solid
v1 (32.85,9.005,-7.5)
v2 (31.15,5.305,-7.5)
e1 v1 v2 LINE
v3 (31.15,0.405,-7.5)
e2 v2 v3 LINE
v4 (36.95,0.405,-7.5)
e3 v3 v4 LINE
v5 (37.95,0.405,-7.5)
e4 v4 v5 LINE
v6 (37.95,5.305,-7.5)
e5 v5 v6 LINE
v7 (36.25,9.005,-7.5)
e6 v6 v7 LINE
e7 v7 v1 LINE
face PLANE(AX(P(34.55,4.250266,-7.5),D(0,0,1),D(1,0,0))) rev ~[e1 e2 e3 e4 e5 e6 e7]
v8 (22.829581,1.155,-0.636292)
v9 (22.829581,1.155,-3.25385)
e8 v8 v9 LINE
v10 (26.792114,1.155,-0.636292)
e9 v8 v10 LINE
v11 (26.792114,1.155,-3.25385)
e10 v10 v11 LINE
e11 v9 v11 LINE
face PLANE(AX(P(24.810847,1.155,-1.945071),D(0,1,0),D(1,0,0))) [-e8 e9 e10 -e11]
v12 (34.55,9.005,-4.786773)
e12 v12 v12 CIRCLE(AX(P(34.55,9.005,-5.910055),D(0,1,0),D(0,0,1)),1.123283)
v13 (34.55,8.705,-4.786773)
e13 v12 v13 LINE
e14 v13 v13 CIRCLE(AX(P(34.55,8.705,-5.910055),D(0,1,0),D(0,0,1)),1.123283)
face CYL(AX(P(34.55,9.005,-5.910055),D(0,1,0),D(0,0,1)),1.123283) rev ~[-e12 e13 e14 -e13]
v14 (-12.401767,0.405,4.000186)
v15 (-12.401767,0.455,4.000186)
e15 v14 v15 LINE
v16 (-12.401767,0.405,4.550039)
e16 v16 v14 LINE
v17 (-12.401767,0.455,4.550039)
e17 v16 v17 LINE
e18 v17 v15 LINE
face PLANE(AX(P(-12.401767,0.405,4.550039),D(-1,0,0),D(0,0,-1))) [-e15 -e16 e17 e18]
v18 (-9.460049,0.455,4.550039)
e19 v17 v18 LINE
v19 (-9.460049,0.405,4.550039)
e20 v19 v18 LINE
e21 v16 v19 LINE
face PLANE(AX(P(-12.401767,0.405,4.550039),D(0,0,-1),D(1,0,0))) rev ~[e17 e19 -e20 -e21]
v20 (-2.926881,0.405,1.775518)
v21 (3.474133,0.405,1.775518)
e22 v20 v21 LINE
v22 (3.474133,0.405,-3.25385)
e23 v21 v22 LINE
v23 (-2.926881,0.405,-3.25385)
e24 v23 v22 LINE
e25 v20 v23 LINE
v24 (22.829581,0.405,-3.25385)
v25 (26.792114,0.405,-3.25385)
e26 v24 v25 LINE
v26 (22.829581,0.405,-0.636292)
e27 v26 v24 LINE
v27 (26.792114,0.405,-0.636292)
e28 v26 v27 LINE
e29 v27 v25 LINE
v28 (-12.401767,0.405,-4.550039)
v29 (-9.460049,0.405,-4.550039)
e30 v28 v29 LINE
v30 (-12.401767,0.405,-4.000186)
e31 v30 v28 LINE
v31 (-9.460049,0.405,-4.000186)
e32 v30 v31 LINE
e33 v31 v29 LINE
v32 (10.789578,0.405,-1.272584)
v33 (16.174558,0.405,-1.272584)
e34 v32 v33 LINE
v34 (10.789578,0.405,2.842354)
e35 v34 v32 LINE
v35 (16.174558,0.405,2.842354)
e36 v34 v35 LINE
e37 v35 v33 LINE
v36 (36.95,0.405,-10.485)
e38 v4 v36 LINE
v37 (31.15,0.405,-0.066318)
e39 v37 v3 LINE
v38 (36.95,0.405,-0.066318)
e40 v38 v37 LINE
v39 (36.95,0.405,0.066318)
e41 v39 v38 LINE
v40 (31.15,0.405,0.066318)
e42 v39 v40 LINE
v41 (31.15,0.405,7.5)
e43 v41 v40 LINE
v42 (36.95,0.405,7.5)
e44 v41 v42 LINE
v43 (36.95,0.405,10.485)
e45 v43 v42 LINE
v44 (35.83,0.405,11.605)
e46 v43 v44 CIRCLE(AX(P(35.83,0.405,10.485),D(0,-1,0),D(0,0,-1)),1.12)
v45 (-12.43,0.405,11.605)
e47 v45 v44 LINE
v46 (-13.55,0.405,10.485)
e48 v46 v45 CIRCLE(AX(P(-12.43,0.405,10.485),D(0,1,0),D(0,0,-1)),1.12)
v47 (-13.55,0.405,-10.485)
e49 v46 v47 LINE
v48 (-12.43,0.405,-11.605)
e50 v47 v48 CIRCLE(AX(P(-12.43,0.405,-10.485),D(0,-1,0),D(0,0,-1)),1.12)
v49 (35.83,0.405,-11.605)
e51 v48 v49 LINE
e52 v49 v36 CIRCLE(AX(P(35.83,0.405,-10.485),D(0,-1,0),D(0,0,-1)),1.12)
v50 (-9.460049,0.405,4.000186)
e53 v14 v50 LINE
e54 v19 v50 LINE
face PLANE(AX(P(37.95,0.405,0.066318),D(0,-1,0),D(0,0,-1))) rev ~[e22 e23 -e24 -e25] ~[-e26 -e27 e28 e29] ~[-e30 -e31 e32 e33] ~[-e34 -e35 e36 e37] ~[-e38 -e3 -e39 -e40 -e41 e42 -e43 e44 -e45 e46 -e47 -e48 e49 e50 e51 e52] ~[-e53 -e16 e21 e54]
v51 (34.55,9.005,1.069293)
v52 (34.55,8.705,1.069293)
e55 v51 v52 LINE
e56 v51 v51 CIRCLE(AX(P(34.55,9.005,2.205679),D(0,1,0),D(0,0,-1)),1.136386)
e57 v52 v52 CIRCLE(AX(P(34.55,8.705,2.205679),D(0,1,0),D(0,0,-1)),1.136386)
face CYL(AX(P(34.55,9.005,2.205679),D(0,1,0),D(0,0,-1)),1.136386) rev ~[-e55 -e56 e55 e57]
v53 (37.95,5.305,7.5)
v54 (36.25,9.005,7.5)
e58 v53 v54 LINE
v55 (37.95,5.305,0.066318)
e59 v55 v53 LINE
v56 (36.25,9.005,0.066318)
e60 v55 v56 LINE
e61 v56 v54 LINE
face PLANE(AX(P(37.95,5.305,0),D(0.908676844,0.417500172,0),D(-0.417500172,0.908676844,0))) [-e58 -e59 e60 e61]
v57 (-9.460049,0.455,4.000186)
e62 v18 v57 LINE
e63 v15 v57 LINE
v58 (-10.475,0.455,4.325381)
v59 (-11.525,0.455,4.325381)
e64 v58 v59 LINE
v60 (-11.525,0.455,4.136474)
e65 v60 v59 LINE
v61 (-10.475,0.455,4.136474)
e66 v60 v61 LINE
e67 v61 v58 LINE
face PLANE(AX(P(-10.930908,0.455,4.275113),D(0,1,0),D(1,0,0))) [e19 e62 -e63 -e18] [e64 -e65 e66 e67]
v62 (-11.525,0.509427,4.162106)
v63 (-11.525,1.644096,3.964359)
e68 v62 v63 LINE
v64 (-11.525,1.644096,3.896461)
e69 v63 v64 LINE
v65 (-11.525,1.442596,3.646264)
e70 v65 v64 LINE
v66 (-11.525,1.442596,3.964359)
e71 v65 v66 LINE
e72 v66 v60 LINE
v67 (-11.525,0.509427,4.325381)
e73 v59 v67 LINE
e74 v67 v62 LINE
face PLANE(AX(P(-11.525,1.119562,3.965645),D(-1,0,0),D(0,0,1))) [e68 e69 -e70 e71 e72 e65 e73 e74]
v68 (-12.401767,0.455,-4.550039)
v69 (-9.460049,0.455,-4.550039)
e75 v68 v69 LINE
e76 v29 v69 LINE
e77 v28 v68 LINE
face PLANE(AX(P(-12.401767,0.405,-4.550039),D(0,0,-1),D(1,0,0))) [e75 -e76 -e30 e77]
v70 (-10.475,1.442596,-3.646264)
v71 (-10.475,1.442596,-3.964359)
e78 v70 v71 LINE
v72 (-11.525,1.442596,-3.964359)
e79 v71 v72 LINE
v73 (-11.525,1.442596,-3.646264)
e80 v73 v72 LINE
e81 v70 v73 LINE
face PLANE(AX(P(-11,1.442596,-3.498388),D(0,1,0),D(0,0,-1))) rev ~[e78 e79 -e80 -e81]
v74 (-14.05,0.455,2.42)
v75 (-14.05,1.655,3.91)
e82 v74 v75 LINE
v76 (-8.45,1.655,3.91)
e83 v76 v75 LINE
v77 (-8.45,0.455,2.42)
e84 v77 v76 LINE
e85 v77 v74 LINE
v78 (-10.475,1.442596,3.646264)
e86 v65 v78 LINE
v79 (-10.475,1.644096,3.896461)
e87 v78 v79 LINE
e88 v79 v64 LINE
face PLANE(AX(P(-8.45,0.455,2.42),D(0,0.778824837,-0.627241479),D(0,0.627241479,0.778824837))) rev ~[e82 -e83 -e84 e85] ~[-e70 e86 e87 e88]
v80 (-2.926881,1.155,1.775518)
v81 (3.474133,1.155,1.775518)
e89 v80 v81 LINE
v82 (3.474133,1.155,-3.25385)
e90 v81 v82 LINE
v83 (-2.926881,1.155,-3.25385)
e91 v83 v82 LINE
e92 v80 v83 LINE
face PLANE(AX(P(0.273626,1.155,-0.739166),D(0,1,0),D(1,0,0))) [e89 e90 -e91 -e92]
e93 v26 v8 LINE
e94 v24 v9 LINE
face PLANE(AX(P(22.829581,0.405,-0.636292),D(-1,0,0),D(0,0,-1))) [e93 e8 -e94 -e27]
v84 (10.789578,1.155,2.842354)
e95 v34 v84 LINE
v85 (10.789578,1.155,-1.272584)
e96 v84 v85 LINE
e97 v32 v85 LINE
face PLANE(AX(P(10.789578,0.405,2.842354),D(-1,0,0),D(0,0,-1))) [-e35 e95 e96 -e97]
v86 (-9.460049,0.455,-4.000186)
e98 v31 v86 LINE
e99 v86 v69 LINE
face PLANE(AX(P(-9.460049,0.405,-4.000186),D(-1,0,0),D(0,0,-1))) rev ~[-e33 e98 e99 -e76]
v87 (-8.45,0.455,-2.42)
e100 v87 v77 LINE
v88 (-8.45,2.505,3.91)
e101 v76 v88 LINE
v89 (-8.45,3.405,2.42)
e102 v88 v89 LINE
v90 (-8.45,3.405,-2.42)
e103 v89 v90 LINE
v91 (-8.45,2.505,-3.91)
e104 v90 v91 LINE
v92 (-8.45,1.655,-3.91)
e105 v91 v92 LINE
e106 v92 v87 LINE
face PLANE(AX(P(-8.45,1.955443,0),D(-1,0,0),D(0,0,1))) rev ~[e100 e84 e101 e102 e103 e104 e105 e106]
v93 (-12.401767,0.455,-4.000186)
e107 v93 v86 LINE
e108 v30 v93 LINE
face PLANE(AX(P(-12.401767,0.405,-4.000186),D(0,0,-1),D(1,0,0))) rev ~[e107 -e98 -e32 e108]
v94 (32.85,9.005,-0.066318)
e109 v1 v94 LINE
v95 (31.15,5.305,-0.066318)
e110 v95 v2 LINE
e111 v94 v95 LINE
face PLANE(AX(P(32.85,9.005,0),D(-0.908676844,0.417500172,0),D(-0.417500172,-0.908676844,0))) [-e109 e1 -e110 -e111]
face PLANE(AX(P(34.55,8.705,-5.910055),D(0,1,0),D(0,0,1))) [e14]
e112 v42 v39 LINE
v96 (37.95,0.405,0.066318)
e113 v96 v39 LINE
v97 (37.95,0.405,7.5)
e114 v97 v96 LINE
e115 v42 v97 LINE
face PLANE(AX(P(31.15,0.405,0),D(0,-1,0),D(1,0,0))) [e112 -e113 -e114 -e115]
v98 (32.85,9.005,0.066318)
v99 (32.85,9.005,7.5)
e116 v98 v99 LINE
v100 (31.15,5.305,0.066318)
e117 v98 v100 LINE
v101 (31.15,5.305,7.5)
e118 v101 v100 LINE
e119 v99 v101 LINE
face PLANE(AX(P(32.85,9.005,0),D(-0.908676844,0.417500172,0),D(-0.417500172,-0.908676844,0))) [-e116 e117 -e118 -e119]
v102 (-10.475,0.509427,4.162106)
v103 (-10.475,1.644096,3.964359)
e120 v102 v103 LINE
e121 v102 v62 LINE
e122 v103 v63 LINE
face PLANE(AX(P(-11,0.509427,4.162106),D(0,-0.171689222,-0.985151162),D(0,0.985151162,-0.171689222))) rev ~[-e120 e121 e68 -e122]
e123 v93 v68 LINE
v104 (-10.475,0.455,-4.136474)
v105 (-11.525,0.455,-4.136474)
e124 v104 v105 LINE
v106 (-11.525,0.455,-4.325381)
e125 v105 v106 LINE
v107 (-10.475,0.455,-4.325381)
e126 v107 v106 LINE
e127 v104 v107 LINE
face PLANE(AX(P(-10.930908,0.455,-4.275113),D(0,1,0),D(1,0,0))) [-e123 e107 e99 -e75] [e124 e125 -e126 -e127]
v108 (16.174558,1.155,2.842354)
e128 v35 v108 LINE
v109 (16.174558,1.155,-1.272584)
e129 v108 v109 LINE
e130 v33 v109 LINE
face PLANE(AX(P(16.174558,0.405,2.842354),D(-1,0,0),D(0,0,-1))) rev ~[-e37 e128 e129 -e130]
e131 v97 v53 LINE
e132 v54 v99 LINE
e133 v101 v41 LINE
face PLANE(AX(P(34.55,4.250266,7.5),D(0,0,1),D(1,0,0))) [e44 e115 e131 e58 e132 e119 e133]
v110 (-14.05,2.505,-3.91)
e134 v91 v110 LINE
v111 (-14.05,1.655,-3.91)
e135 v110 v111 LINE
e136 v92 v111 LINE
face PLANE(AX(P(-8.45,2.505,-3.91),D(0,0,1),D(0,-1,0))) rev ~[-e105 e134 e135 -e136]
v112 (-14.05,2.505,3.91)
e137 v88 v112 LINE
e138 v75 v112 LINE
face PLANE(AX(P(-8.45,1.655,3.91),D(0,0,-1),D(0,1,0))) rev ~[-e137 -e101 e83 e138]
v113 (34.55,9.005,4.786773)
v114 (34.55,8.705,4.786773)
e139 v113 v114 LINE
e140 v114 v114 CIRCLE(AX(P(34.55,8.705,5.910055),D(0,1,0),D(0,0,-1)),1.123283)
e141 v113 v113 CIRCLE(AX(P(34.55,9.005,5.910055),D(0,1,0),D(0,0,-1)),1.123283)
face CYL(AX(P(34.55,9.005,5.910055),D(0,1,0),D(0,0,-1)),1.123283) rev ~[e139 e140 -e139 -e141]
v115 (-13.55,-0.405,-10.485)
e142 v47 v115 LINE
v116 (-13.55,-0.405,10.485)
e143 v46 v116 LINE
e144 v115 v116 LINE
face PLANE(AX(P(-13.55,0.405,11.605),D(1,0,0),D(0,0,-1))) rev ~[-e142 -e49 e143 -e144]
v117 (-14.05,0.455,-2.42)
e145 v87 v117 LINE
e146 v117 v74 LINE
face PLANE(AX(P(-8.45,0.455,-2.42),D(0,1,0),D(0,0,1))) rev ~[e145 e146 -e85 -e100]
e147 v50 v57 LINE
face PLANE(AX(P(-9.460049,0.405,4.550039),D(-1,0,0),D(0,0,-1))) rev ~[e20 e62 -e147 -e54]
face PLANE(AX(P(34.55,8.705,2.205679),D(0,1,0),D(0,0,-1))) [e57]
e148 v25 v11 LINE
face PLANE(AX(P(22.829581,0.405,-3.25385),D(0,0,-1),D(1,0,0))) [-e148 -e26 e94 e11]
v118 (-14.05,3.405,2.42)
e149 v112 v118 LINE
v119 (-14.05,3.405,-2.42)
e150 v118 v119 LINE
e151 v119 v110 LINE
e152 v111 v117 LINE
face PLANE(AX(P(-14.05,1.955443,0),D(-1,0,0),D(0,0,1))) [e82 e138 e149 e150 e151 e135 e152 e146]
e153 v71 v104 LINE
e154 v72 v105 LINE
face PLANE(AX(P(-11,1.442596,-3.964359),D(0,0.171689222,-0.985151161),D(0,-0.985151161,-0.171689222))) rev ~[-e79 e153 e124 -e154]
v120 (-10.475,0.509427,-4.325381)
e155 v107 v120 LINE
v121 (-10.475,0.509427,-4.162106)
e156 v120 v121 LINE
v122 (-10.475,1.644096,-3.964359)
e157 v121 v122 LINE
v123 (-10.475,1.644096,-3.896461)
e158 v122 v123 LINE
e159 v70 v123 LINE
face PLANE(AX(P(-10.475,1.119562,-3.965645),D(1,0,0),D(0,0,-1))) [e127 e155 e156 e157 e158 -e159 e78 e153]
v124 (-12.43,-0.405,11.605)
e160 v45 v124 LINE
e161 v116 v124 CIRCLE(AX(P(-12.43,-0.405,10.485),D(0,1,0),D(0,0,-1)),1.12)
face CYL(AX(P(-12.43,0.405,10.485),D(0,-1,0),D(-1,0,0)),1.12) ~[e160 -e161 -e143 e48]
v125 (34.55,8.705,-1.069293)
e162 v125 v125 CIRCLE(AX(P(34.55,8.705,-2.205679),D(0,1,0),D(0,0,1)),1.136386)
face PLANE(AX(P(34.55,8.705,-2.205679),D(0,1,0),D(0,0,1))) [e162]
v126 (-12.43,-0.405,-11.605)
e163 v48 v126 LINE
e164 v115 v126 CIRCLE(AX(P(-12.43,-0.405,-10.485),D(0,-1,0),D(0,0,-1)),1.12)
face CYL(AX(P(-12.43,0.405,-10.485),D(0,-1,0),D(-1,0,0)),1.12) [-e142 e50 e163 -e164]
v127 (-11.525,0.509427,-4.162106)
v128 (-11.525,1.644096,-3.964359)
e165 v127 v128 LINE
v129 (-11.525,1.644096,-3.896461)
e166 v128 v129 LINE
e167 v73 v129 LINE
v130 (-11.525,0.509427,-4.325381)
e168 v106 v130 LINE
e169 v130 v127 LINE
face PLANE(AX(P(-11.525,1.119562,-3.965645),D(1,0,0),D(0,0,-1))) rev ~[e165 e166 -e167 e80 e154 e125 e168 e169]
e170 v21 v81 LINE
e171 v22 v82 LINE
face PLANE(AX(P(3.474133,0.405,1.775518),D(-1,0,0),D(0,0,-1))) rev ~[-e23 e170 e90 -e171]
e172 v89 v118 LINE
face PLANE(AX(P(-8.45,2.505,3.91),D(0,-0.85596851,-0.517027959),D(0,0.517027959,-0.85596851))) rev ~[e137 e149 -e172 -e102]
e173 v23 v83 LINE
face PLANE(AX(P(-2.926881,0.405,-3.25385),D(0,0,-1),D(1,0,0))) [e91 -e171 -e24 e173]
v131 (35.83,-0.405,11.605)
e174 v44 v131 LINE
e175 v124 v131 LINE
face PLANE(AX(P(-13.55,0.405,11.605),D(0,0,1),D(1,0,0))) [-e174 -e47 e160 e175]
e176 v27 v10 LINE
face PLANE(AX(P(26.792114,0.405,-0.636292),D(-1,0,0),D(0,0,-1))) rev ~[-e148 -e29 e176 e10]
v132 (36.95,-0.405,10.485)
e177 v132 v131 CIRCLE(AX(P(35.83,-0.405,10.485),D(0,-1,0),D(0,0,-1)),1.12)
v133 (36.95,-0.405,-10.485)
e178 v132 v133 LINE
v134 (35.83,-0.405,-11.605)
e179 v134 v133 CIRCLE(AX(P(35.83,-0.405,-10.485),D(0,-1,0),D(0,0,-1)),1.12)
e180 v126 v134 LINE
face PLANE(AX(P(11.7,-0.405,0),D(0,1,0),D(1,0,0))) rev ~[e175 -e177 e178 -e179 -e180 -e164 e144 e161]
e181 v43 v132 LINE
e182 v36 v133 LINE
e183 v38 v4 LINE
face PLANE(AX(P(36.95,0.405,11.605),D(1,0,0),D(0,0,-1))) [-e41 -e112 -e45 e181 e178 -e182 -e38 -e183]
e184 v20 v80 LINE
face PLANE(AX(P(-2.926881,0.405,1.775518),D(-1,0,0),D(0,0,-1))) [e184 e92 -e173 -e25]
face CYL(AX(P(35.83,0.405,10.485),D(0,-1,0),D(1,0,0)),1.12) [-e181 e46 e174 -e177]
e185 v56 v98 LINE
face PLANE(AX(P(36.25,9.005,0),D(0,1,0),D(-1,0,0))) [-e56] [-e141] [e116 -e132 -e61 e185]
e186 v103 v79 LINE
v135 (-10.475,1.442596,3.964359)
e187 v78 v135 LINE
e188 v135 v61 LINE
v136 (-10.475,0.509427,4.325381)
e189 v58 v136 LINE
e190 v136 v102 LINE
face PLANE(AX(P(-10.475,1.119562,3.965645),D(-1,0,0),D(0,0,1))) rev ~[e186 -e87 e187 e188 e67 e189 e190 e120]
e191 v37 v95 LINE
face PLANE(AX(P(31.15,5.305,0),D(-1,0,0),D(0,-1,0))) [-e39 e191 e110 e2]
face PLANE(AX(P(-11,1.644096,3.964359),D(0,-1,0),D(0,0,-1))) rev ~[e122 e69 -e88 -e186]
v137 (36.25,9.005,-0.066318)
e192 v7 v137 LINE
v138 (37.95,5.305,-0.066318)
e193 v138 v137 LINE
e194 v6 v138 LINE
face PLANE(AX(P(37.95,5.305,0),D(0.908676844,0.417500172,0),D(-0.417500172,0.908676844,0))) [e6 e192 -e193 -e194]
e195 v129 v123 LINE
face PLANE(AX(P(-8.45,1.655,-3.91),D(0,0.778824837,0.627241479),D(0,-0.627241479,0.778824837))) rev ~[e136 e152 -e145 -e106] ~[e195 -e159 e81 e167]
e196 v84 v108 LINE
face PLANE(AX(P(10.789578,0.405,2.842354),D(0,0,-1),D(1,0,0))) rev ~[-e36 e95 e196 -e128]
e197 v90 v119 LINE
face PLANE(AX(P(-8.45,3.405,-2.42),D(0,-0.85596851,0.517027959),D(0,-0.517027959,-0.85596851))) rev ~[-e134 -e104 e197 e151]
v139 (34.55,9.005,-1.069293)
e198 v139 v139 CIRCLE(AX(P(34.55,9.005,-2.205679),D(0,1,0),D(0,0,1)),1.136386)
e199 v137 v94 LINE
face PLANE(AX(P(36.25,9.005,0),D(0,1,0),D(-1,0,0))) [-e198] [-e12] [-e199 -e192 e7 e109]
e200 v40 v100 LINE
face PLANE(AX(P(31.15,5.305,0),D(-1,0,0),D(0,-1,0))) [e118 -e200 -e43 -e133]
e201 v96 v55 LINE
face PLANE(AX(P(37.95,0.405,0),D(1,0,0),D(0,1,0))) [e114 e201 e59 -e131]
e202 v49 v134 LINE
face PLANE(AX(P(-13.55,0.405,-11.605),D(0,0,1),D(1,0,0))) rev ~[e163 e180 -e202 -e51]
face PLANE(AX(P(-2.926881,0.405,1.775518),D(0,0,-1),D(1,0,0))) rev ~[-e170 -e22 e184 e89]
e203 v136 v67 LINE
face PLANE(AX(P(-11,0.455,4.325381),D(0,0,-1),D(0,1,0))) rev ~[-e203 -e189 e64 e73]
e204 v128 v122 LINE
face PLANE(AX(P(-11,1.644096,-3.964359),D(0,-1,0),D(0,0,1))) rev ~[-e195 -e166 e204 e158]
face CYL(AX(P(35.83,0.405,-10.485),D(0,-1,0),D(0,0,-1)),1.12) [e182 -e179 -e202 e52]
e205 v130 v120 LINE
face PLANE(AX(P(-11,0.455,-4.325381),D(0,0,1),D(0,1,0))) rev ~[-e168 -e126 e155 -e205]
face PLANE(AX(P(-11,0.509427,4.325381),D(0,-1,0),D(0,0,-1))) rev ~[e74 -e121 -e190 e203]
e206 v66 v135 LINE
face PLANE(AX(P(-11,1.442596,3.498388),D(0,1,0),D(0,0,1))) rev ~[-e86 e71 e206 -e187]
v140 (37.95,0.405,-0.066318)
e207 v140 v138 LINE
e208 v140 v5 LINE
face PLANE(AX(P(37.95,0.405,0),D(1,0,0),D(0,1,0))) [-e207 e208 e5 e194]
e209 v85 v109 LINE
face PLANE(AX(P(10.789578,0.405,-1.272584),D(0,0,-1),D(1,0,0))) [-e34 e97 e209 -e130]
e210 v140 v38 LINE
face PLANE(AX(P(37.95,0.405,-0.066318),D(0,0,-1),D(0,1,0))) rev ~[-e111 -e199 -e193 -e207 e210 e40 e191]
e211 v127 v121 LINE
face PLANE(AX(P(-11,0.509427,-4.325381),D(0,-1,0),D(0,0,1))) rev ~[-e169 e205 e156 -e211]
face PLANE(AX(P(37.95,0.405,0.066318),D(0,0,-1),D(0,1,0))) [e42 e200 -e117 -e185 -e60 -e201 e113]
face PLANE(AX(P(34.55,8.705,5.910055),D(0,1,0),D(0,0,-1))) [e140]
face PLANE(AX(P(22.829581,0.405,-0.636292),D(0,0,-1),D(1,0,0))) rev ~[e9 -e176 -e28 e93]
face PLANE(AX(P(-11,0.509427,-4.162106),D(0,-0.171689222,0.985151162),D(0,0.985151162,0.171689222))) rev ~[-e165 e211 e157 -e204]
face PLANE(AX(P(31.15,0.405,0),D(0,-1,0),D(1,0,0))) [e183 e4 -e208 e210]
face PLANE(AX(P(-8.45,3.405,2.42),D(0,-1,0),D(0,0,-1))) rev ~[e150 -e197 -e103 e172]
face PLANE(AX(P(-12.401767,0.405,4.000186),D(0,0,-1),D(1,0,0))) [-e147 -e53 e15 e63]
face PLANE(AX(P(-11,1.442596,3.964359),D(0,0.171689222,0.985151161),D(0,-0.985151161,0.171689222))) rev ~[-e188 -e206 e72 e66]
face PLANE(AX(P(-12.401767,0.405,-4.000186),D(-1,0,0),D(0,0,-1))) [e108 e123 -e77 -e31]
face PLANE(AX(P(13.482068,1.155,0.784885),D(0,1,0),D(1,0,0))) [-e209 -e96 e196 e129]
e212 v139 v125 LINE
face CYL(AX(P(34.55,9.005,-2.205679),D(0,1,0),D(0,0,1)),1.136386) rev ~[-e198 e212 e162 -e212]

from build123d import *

# Parameters (mm, degrees)
BOSS_EXTRUDE1_DEPTH      = 0.405
FILLET1_R                = 1.12
CHAMFER1_SIZE            = 0.5
SKETCH2_R                = 1.1
CUT_EXTRUDE1_DEPTH       = 16.574075414
BOSS_EXTRUDE2_DEPTH      = 0.5
BOSS_EXTRUDE2_DEPTH_BACK = 5.1
SKETCH4_W                = 2.941717286
SKETCH4_H                = 0.549853698
BOSS_EXTRUDE3_DEPTH      = 0.05
BOSS_EXTRUDE4_DEPTH      = 0.525
SKETCH6_R                = 0.577649515
CUT_EXTRUDE2_DEPTH       = 17.26947218
SKETCH7_W                = 50.5
SKETCH7_H                = 23.21
BOSS_EXTRUDE5_DEPTH      = 0.81
FILLET2_R                = 1.12
SKETCH8_W                = 6.401014247
SKETCH8_H                = 5.029368337
SKETCH8_W_2              = 5.38498024
SKETCH8_H_2              = 4.114937731
SKETCH8_W_3              = 3.96253263
SKETCH8_H_3              = 2.617558371
BOSS_EXTRUDE6_DEPTH      = 0.75
BOSS_EXTRUDE7_DEPTH      = 7.5
SKETCH10_W               = 0.132636096
SKETCH10_H               = 11.074362277
CUT_EXTRUDE3_DEPTH       = 6.8
SKETCH11_R               = 1.123282604
SKETCH11_R_2             = 1.136386451
CUT_EXTRUDE4_DEPTH       = 0.3


with BuildPart() as part:
    # Sketch1 → Boss-Extrude1 (new, symmetric)
    with BuildSketch(Plane(origin=(0, 0, 0), x_dir=(1, 0, 0), z_dir=(0, 1, 0))):
        Polygon((-13.55, 7.635), (11.83, 7.635), (11.83, 3.675), (13.55, 2.295), (13.55, -2.295), (11.83, -3.675), (11.83, -7.635), (-13.55, -7.635), align=None)
    extrude(amount=BOSS_EXTRUDE1_DEPTH, both=True)

    # Fillet1
    fillet1_edges = [part.edges().sort_by_distance(p)[0] for p in [
        (-13.55, 0, -7.635),
        (-13.55, 0, 7.635),
    ]]
    fillet(fillet1_edges, radius=FILLET1_R)

    # Chamfer1
    chamfer1_edges = [part.edges().sort_by_distance(p)[0] for p in [
        (11.83, 0, -7.635),
        (11.83, 0, 7.635),
    ]]
    chamfer(chamfer1_edges, length=CHAMFER1_SIZE)

    # Sketch2 → Cut-Extrude1 (cut, through all)
    with BuildSketch(Plane(origin=(0, 0.405, 0), x_dir=(1, 0, 0), z_dir=(0, 1, 0))):
        with Locations(Location((9.57, 5.74, 0), (0, 0, 270))):
            Circle(SKETCH2_R)
        with Locations(Location((9.57, -5.74, 0), (0, 0, 270))):
            Circle(SKETCH2_R)
    extrude(amount=-CUT_EXTRUDE1_DEPTH, mode=Mode.SUBTRACT)

    # Sketch4 → Boss-Extrude3 (add)
    with BuildSketch(Plane(origin=(0, 0.405, 0), x_dir=(1, 0, 0), z_dir=(0, 1, 0))):
        with Locations((-10.930908088, 4.275112504)):
            Rectangle(SKETCH4_W, SKETCH4_H)
        with Locations((-10.930908088, -4.275112504)):
            Rectangle(SKETCH4_W, SKETCH4_H)
    extrude(amount=BOSS_EXTRUDE3_DEPTH)



with BuildPart() as body_2:
    # Sketch3 → Boss-Extrude2 (new, two sides: drawn at the far end of the back side and taken through both)
    with BuildSketch(Plane.ZY.offset(13.55).offset(-BOSS_EXTRUDE2_DEPTH_BACK)):
        Polygon((-3.91, 1.655), (-2.42, 0.455), (2.42, 0.455), (3.91, 1.655), (3.91, 2.505), (2.42, 3.405), (-2.42, 3.405), (-3.91, 2.505), align=None)
    extrude(amount=BOSS_EXTRUDE2_DEPTH + BOSS_EXTRUDE2_DEPTH_BACK)


with BuildPart() as part_1:
    add(part.part)

    add(body_2.part)  # Boss-Extrude4 merges body 2
    # Sketch5 → Boss-Extrude4 (add, symmetric)
    with BuildSketch(Plane(origin=(-11, 0, 0), x_dir=(0, 0, -1), z_dir=(1, 0, 0))):
        Polygon((4.325381098, 0.455), (4.325381098, 0.509426612), (4.162105788, 0.509426612), (3.964358919, 1.644096311), (3.498388432, 1.644096311), (3.498388432, 1.44259556), (3.964358919, 1.44259556), (4.136474144, 0.455), align=None)
        Polygon((-4.136474144, 0.455), (-4.325381098, 0.455), (-4.325381098, 0.509426612), (-4.162105788, 0.509426612), (-3.964358919, 1.644096311), (-3.498388432, 1.644096311), (-3.498388432, 1.44259556), (-3.964358919, 1.44259556), align=None)
    extrude(amount=BOSS_EXTRUDE4_DEPTH, both=True)

    # Sketch6 → Cut-Extrude2 (cut, through all)
    with BuildSketch(Plane(origin=(0, 0.405, 0), x_dir=(1, 0, 0), z_dir=(0, 1, 0))):
        with Locations(Location((-5.985172419, 5.913658107, 0), (0, 0, 270))):
            Circle(SKETCH6_R)
        with Locations(Location((-3.485172419, 5.913658107, 0), (0, 0, 270))):
            Circle(SKETCH6_R)
        with Locations(Location((-0.985172419, 5.913658107, 0), (0, 0, 270))):
            Circle(SKETCH6_R)
        with Locations(Location((1.514827581, 5.913658107, 0), (0, 0, 270))):
            Circle(SKETCH6_R)
        with Locations(Location((4.014827581, 5.913658107, 0), (0, 0, 270))):
            Circle(SKETCH6_R)
        with Locations(Location((4.014827581, -5.913658107, 0), (0, 0, 90))):
            Circle(SKETCH6_R)
        with Locations(Location((1.514827581, -5.913658107, 0), (0, 0, 90))):
            Circle(SKETCH6_R)
        with Locations(Location((-0.985172419, -5.913658107, 0), (0, 0, 90))):
            Circle(SKETCH6_R)
        with Locations(Location((-3.485172419, -5.913658107, 0), (0, 0, 90))):
            Circle(SKETCH6_R)
        with Locations(Location((-5.985172419, -5.913658107, 0), (0, 0, 90))):
            Circle(SKETCH6_R)
    extrude(amount=-CUT_EXTRUDE2_DEPTH, mode=Mode.SUBTRACT)

    # Sketch7 → Boss-Extrude5 (add)
    with BuildSketch(Plane(origin=(0, 0.405, 0), x_dir=(1, 0, 0), z_dir=(0, 1, 0))):
        with Locations((11.7, 0)):
            Rectangle(SKETCH7_W, SKETCH7_H)
    extrude(amount=-BOSS_EXTRUDE5_DEPTH)

    # Fillet2
    fillet2_edges = [part_1.edges().sort_by_distance(p)[0] for p in [
        (-13.55, 0, 11.605),
        (-13.55, 0, -11.605),
        (36.95, 0, -11.605),
        (36.95, 0, 11.605),
    ]]
    fillet(fillet2_edges, radius=FILLET2_R)

    # Sketch8 → Boss-Extrude6 (add)
    with BuildSketch(Plane(origin=(0, 0.405, 0), x_dir=(1, 0, 0), z_dir=(0, 1, 0))):
        with Locations((0.273625917, 0.73916626)):
            Rectangle(SKETCH8_W, SKETCH8_H)
        with Locations((13.482068015, -0.784884752)):
            Rectangle(SKETCH8_W_2, SKETCH8_H_2)
        with Locations((24.8108472, 1.945071243)):
            Rectangle(SKETCH8_W_3, SKETCH8_H_3)
    extrude(amount=BOSS_EXTRUDE6_DEPTH)

    # Sketch9 → Boss-Extrude7 (add, symmetric)
    with BuildSketch(Plane.XY):
        Polygon((37.95, 0.405), (37.95, 5.305), (36.25, 9.005), (32.85, 9.005), (31.15, 5.305), (31.15, 0.405), align=None)
    extrude(amount=BOSS_EXTRUDE7_DEPTH, both=True)

    # Sketch10 → Cut-Extrude3 (cut)
    with BuildSketch(Plane(origin=(37.95, 0, 0), x_dir=(0, 0, -1), z_dir=(1, 0, 0))):
        with Locations((0, 5.942181138)):
            Rectangle(SKETCH10_W, SKETCH10_H)
    extrude(amount=-CUT_EXTRUDE3_DEPTH, mode=Mode.SUBTRACT)

    # Sketch11 → Cut-Extrude4 (cut)
    with BuildSketch(Plane(origin=(0, 9.005, 0), x_dir=(1, 0, 0), z_dir=(0, 1, 0))):
        with Locations(Location((34.55, 5.910055159, 0), (0, 0, 270))):
            Circle(SKETCH11_R)
        with Locations(Location((34.55, 2.205678961, 0), (0, 0, 270))):
            Circle(SKETCH11_R_2)
        with Locations(Location((34.55, -2.205678961, 0), (0, 0, 90))):
            Circle(SKETCH11_R_2)
        with Locations(Location((34.55, -5.910055159, 0), (0, 0, 90))):
            Circle(SKETCH11_R)
    extrude(amount=-CUT_EXTRUDE4_DEPTH, mode=Mode.SUBTRACT)


solid = part_1.part
